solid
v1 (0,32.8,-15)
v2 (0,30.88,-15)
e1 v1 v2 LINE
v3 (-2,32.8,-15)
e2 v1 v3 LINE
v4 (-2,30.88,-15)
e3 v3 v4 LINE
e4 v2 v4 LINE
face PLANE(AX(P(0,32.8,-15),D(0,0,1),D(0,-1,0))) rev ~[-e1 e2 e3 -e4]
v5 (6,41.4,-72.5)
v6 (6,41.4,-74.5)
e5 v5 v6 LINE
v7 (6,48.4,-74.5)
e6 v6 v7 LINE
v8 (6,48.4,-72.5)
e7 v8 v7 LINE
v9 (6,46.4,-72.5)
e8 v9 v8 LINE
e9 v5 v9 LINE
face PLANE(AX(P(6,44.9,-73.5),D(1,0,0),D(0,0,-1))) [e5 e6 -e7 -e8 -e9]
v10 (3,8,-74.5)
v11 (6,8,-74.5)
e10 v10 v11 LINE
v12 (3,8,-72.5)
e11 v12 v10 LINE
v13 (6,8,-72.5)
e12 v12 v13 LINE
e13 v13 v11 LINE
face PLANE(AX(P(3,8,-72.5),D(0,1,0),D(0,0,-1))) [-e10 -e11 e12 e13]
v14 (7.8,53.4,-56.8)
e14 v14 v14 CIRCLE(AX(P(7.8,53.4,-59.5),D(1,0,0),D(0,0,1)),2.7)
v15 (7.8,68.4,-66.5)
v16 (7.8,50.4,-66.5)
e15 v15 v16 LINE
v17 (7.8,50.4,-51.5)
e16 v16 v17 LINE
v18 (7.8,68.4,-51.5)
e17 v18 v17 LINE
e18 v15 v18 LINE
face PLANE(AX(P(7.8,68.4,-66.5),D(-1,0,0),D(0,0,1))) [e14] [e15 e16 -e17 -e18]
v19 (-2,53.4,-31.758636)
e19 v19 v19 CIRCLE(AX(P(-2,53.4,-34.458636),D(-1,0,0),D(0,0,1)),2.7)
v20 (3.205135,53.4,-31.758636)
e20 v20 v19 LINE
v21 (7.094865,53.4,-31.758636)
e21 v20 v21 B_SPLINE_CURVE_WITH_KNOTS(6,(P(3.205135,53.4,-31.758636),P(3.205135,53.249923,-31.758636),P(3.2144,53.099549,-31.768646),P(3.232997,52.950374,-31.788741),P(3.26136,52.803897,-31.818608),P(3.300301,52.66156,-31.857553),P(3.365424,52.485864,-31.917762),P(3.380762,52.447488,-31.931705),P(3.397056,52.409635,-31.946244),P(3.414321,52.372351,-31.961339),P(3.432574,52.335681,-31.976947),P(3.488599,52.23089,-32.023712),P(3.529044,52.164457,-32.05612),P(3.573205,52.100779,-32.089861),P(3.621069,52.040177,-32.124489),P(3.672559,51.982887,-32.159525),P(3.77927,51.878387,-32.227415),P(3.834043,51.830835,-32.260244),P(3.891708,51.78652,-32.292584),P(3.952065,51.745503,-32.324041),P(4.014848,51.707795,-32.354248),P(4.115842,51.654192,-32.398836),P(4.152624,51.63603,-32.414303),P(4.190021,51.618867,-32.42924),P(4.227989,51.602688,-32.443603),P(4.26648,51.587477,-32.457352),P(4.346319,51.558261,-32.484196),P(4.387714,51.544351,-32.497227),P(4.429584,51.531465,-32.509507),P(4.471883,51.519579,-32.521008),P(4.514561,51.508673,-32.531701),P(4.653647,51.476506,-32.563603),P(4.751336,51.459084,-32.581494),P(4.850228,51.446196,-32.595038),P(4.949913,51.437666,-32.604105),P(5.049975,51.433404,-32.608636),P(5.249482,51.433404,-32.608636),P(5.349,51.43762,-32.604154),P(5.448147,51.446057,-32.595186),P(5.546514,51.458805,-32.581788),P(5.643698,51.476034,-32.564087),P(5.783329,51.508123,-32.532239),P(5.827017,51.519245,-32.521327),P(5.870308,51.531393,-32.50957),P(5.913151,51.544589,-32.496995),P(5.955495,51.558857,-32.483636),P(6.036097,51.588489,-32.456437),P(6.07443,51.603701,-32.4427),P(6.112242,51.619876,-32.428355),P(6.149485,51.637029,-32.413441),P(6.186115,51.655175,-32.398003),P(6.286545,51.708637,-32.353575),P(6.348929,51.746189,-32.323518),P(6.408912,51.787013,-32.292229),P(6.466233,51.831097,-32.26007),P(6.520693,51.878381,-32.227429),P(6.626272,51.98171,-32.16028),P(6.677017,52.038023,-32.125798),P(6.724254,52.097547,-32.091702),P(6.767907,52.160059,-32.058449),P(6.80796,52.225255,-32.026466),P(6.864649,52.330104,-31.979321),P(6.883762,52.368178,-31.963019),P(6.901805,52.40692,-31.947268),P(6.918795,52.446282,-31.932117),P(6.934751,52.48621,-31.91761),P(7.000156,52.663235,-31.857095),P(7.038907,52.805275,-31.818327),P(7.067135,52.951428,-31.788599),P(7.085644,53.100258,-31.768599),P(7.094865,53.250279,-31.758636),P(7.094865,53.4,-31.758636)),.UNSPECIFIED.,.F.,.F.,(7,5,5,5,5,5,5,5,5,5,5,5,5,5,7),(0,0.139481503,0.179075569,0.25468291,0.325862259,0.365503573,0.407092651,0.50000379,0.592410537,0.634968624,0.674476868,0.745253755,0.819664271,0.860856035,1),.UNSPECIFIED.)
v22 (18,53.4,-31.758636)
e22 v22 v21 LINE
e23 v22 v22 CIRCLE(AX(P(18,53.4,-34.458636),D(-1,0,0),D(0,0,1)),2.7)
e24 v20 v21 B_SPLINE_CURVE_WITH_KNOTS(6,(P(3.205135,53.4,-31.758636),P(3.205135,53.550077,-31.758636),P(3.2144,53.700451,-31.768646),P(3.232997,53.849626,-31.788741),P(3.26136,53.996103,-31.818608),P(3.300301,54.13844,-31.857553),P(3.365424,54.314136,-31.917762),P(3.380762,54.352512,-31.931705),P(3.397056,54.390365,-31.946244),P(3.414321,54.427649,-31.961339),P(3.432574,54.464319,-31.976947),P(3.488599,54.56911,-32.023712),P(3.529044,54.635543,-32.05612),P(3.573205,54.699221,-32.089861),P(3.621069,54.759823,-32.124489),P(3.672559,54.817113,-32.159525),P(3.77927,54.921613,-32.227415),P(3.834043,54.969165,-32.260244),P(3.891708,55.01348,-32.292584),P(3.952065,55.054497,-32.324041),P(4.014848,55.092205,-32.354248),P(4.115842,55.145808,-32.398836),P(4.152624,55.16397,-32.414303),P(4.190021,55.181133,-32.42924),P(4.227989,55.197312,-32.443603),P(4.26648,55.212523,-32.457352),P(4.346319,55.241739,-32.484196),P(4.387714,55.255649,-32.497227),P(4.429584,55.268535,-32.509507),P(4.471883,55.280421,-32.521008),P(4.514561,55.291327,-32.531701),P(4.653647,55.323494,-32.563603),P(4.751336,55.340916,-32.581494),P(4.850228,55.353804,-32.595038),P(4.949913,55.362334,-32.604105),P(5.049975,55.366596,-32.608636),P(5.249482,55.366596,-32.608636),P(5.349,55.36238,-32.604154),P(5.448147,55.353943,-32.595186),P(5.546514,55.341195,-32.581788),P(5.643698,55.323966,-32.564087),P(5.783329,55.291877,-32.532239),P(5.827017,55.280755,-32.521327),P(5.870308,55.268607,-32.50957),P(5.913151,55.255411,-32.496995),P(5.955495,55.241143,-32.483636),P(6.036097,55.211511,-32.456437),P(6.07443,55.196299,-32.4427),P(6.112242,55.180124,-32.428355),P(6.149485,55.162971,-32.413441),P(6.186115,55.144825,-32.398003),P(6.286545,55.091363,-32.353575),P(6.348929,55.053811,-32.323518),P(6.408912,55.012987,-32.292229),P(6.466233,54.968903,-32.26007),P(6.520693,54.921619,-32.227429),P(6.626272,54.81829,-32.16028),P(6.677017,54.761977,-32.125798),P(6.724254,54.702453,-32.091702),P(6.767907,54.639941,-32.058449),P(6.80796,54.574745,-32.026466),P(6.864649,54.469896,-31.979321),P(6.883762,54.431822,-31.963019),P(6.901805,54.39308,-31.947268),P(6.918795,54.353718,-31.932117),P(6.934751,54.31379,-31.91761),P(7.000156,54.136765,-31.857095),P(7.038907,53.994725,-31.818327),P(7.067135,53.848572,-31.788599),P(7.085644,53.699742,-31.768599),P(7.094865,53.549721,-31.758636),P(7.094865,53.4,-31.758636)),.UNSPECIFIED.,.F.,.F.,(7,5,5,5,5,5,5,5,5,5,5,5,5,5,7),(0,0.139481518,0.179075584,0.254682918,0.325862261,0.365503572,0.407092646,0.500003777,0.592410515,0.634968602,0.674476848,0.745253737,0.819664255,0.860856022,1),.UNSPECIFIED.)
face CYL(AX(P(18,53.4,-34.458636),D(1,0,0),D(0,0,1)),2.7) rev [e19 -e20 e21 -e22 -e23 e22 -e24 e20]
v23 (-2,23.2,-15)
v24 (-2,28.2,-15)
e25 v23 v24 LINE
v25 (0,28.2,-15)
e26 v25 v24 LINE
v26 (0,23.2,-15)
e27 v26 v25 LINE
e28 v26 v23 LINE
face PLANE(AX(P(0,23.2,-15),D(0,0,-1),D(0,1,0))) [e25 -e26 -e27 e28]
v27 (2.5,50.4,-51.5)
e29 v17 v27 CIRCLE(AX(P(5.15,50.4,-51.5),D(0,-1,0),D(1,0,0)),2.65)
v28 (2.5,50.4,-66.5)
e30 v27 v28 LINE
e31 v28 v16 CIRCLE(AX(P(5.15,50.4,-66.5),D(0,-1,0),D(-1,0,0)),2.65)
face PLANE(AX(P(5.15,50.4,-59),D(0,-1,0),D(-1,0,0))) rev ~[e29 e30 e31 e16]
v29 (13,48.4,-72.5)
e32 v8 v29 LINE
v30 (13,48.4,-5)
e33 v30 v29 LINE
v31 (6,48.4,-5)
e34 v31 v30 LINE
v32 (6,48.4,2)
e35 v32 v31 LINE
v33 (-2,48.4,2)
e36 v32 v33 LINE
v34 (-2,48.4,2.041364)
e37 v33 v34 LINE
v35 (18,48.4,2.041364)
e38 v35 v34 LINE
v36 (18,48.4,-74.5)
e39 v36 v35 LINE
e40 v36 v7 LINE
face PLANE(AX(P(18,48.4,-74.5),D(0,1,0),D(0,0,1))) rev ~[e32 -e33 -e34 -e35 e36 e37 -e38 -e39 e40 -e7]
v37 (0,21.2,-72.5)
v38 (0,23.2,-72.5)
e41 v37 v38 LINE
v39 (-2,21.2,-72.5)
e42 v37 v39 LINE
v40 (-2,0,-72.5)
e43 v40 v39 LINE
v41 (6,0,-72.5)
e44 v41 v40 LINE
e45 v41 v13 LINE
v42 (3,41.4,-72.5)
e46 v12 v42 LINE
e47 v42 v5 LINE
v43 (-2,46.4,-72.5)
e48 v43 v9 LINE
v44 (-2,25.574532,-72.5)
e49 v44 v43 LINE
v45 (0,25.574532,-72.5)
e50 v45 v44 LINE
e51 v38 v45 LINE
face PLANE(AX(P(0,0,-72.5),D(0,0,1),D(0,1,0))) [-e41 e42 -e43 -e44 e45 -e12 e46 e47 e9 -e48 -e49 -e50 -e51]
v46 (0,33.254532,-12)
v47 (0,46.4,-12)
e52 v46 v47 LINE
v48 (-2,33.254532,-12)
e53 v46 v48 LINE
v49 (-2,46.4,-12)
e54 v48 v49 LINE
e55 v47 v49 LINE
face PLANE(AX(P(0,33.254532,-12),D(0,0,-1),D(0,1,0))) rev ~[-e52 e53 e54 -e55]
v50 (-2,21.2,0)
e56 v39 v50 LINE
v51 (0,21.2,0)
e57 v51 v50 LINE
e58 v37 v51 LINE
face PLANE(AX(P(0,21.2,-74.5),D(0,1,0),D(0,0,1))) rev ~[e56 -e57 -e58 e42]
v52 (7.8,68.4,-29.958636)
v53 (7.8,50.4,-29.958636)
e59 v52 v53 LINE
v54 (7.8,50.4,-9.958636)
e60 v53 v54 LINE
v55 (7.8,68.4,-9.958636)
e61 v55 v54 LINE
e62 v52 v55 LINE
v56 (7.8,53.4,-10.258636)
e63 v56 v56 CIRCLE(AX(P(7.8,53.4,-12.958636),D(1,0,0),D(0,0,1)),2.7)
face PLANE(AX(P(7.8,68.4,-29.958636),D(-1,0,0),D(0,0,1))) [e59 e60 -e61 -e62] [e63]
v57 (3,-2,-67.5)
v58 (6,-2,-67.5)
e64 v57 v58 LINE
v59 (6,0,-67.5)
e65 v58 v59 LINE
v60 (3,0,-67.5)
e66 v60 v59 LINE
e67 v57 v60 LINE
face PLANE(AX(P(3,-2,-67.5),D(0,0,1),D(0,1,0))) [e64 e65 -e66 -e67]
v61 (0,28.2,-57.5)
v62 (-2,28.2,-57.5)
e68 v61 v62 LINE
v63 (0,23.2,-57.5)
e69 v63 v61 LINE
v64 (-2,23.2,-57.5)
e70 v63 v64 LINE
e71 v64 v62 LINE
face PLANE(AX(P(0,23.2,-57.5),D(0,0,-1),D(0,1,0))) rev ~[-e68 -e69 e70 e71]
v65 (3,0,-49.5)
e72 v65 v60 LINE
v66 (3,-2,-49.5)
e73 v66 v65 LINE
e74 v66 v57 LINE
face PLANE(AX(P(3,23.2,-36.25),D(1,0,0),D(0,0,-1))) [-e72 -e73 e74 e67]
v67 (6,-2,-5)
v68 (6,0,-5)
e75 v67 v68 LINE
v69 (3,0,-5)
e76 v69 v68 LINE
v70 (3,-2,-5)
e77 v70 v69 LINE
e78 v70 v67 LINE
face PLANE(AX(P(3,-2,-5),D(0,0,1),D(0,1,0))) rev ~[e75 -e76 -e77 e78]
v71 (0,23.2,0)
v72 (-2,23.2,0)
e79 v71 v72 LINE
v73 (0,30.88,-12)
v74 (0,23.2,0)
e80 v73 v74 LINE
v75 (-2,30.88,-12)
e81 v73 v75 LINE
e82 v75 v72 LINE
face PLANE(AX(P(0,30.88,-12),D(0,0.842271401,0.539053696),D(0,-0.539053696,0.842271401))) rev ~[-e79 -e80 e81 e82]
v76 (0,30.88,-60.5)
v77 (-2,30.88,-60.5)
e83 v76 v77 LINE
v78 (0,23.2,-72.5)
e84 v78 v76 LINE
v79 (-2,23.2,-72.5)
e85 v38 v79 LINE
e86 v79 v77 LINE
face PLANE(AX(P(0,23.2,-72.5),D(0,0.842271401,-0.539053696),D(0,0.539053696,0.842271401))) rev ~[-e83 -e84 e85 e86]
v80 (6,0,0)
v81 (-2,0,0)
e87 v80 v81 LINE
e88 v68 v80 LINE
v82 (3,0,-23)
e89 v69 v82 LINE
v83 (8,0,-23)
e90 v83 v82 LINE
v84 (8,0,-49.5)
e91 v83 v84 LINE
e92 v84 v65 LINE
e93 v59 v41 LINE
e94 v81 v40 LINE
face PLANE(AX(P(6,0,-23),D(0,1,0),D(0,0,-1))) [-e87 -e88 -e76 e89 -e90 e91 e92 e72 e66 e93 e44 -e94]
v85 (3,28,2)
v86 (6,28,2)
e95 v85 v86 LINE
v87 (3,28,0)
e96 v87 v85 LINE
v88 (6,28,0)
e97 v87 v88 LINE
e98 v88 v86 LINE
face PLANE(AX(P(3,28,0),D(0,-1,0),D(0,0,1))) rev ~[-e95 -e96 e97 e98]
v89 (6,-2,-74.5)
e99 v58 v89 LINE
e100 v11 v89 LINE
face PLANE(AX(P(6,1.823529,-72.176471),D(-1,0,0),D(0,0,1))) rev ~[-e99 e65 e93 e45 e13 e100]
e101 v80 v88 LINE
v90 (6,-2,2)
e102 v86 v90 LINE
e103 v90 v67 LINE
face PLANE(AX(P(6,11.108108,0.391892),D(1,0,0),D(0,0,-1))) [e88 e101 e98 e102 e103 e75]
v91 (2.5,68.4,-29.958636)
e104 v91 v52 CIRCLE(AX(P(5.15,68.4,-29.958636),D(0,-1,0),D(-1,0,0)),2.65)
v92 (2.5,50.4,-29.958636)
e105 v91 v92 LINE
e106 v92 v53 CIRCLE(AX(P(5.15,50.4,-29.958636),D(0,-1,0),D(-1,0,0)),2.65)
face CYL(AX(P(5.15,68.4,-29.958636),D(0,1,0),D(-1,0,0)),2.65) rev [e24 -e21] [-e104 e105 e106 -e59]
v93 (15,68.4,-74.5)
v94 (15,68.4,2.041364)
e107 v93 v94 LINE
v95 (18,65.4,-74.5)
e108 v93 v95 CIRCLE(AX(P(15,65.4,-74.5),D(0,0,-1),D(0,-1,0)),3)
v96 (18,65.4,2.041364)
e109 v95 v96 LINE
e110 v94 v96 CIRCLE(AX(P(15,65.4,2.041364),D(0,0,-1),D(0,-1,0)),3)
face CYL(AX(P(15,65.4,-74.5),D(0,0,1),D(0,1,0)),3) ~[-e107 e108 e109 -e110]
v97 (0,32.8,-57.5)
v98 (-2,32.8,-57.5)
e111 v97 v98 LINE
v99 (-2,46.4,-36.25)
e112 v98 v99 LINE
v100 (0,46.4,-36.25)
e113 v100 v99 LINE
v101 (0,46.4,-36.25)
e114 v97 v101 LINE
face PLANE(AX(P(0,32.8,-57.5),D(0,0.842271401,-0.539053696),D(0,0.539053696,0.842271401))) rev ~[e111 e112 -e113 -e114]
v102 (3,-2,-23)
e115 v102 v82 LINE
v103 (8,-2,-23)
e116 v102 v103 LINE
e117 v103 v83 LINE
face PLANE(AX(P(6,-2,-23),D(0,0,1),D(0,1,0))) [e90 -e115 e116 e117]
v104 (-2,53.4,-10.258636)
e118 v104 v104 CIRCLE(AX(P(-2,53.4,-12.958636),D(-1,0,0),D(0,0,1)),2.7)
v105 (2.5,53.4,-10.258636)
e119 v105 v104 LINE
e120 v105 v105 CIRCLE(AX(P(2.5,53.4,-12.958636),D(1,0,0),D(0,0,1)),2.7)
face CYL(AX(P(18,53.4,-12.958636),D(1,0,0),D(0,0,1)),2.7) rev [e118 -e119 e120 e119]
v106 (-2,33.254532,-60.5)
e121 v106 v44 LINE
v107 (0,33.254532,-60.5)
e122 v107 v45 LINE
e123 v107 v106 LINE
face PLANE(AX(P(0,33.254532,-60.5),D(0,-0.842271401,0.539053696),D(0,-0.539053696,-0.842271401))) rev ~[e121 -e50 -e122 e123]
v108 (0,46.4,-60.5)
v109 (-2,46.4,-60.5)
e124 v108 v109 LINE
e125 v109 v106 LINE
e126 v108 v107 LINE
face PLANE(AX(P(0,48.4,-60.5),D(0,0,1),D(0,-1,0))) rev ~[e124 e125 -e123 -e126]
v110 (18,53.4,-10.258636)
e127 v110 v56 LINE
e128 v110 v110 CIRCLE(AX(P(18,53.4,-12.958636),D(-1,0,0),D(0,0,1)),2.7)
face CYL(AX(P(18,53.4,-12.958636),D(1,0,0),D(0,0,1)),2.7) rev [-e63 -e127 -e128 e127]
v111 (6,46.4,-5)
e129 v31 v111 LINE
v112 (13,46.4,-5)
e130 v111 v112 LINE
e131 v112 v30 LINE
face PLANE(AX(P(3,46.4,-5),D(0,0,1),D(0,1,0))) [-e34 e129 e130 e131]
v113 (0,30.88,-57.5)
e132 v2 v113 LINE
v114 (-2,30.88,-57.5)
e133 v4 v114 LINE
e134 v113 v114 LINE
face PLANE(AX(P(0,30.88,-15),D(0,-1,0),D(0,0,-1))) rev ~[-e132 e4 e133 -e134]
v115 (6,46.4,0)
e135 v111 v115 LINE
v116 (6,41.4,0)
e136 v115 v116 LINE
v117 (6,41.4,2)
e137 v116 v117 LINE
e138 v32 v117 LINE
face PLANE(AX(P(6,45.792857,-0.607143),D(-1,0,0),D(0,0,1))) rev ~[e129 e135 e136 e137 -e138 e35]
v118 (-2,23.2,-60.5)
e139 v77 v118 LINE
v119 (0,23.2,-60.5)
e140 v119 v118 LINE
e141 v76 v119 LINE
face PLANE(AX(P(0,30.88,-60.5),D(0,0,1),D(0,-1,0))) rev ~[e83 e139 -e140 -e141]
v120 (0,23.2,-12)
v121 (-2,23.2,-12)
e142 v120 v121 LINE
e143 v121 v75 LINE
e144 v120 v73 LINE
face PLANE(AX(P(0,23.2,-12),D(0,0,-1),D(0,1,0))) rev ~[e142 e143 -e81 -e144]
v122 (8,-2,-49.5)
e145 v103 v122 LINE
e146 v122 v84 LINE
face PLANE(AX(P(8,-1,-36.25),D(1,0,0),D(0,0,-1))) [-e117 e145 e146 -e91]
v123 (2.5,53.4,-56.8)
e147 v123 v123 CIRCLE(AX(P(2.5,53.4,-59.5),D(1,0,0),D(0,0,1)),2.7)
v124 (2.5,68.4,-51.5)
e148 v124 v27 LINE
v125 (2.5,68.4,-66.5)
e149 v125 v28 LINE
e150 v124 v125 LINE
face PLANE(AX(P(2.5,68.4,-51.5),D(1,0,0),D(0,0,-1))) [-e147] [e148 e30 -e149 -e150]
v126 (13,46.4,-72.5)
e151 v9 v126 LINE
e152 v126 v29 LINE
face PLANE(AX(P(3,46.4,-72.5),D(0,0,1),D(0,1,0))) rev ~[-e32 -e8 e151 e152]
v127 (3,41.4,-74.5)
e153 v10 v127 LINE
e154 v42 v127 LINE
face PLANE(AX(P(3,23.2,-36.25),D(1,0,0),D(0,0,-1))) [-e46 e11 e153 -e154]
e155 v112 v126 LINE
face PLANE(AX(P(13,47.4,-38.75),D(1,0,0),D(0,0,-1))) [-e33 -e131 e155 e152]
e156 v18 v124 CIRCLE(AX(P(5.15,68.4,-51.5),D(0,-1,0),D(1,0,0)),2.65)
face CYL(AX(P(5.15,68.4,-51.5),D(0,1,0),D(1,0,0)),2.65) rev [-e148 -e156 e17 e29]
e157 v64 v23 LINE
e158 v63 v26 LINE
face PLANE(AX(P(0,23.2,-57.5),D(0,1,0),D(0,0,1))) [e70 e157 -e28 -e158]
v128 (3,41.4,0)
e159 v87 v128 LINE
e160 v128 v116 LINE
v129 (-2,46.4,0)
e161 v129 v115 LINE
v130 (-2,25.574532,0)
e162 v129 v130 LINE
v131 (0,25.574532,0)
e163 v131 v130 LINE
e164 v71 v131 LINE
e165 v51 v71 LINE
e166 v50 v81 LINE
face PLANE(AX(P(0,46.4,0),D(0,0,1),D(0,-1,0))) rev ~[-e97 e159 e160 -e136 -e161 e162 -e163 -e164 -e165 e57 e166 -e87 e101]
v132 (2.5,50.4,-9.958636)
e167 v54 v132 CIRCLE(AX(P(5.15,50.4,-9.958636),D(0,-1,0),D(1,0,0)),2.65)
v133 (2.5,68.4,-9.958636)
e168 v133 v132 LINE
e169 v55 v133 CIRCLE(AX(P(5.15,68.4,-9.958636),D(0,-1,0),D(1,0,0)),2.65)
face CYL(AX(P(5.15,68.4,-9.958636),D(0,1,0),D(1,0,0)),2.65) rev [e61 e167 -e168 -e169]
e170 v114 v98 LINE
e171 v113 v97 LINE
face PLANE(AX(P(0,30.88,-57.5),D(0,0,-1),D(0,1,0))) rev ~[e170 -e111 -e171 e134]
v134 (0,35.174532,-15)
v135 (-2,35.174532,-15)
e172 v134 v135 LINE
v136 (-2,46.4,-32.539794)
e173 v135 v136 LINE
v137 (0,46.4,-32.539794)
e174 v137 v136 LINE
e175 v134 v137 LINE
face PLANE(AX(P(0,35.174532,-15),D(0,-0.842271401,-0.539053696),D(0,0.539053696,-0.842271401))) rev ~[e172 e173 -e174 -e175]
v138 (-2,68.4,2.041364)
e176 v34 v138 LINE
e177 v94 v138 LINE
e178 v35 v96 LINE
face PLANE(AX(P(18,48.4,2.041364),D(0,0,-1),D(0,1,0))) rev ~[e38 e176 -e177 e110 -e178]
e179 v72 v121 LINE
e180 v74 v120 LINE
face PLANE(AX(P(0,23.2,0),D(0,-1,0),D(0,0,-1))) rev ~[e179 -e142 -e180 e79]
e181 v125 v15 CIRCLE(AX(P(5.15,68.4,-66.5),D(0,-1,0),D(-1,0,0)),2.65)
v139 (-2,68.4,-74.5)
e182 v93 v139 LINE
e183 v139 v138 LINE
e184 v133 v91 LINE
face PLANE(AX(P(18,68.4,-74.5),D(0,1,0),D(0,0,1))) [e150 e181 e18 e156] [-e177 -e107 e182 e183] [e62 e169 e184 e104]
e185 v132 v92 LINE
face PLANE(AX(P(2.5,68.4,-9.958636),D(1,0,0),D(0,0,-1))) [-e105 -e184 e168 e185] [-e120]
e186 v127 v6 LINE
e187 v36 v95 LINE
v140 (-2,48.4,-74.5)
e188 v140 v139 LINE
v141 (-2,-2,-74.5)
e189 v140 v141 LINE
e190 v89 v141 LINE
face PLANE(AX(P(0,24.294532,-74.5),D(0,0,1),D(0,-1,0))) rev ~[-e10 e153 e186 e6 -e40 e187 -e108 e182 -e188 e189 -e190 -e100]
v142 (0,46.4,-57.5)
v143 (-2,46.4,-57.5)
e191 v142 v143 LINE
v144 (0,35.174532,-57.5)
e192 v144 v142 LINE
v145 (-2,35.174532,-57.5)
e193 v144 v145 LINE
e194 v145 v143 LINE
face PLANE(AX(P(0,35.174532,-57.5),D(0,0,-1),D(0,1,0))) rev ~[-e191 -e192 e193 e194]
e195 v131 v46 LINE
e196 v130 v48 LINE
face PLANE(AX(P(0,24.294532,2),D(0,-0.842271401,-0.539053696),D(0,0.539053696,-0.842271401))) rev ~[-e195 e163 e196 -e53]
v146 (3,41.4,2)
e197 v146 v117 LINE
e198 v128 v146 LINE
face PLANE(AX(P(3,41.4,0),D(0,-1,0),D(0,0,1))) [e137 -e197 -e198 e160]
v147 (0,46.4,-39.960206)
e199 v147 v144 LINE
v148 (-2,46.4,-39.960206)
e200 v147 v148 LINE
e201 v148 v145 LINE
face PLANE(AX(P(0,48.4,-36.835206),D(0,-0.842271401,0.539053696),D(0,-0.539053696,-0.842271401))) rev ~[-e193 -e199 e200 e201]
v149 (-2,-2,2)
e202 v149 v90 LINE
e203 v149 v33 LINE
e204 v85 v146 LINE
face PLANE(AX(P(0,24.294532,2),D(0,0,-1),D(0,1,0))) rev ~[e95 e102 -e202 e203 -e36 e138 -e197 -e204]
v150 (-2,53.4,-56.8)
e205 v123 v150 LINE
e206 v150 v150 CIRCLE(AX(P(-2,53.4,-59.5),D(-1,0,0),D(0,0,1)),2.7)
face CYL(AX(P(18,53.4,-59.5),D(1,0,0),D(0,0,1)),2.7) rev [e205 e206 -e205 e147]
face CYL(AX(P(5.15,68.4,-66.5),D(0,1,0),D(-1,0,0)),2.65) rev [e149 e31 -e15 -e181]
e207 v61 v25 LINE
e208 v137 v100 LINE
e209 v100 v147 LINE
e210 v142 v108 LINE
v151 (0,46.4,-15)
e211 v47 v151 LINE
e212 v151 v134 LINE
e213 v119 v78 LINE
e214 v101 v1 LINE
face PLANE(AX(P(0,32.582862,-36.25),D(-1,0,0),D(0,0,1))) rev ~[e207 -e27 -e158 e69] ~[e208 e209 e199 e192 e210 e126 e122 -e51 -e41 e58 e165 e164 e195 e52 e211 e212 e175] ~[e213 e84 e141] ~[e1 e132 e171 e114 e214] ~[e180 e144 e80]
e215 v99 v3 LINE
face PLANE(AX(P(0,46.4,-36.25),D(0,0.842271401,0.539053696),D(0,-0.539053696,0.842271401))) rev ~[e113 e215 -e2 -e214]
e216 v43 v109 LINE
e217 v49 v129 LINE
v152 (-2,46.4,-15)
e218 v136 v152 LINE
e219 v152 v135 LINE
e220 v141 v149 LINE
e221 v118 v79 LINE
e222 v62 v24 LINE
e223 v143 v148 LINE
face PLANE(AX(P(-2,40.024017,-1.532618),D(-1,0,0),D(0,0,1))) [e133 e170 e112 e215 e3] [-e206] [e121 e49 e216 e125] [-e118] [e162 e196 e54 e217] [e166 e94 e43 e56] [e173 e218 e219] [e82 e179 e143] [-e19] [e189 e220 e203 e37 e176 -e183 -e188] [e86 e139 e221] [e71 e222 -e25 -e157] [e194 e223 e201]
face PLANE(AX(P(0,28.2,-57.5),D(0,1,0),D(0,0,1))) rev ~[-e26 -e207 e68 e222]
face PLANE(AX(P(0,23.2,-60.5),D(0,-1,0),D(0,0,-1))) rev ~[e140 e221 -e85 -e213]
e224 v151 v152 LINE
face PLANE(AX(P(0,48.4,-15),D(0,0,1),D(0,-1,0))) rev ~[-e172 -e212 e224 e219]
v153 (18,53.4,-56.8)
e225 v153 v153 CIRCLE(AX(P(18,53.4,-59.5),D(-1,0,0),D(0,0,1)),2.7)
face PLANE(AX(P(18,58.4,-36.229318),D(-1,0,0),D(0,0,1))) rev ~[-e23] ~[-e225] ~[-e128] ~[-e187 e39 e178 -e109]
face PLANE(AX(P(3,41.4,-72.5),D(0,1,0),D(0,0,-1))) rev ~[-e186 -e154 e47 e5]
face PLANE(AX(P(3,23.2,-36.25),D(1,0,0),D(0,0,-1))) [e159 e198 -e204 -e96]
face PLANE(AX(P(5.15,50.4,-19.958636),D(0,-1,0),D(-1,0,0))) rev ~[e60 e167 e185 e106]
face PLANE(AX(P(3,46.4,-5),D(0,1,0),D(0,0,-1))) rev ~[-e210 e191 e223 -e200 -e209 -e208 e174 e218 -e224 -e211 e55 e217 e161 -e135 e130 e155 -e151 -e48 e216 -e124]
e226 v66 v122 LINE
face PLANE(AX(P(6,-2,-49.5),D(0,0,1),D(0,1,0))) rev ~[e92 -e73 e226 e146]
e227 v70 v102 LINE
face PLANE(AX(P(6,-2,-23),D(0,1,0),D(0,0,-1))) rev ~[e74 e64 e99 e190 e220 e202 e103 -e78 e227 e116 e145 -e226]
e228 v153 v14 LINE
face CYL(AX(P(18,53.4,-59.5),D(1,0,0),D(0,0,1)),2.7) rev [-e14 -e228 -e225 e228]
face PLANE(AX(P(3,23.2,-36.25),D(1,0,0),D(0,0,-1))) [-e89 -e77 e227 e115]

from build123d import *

# Parameters (mm, degrees)
SKETCH_1_W           = 76.5
SKETCH_1_H           = 50.4
SKETCH_1_W_2         = 72.5
SKETCH_1_H_2         = 46.4
EXTRUDE_1_DEPTH      = 3
SKETCH_2_W           = 26.5
SKETCH_2_H           = 2
SKETCH_2_W_2         = 2
SKETCH_2_H_2         = 7
EXTRUDE_2_DEPTH      = 3
EXTRUDE_4_DEPTH      = 2
EXTRUDE_4_DEPTH_BACK = 18
SKETCH_3_W           = 76.541364071
SKETCH_3_H           = 20
SKETCH_3_R           = 2.7
FILLET_1_R           = 3
CUT_EXTRUDE_1_DEPTH  = 18
SKETCH_5_W           = 42.5
SKETCH_5_H           = 5
EXTRUDE_5_DEPTH      = 2
EXTRUDE_6_DEPTH      = 2
SKETCH_7_W           = 26.5
SKETCH_7_H           = 2
EXTRUDE_7_DEPTH      = 2
SKETCH_8_W           = 67.5
SKETCH_8_H           = 2
EXTRUDE_8_DEPTH      = 10


with BuildPart() as part:
    # 草图1 → 凸台-拉伸1 (new body)
    with BuildSketch(Plane(origin=(0, 0, 0), x_dir=(0, 0, -1), z_dir=(1, 0, 0))):
        with Locations((36.25, 23.2)):
            Rectangle(SKETCH_1_W, SKETCH_1_H)
        with Locations((36.25, 23.2)):
            Rectangle(SKETCH_1_W_2, SKETCH_1_H_2, mode=Mode.SUBTRACT)
    extrude(amount=EXTRUDE_1_DEPTH)

    # 草图2 → 凸台-拉伸2 (add)
    with BuildSketch(Plane(origin=(3, 0, 0), x_dir=(0, 0, -1), z_dir=(1, 0, 0))):
        with Locations((36.25, -1)):
            Rectangle(SKETCH_2_W, SKETCH_2_H)
        Polygon((-2, -2), (0, -2), (5, -2), (5, 0), (0, 0), (0, 28), (-2, 28), align=None)
        Polygon((74.5, -2), (72.5, -2), (67.5, -2), (67.5, 0), (72.5, 0), (72.5, 8), (74.5, 8), align=None)
        Polygon((-2, 48.4), (5, 48.4), (5, 46.4), (0, 46.4), (0, 41.4), (-2, 41.4), (-2, 46.4), align=None)
        with Locations((73.5, 44.9)):
            Rectangle(SKETCH_2_W_2, SKETCH_2_H_2)
    extrude(amount=EXTRUDE_2_DEPTH)

    # 草图3 → 凸台-拉伸4 (add, two sides: drawn at the far end of the back side and taken through both)
    with BuildSketch(Plane.ZY.offset(-EXTRUDE_4_DEPTH_BACK)):
        with Locations((-36.229317964, 58.4)):
            Rectangle(SKETCH_3_W, SKETCH_3_H)
        with Locations((-59.5, 53.4)):
            Circle(SKETCH_3_R, mode=Mode.SUBTRACT)
        with Locations((-12.958635929, 53.4)):
            Circle(SKETCH_3_R, mode=Mode.SUBTRACT)
        with Locations((-34.458635929, 53.4)):
            Circle(SKETCH_3_R, mode=Mode.SUBTRACT)
    extrude(amount=EXTRUDE_4_DEPTH + EXTRUDE_4_DEPTH_BACK)

    # 圆角1
    fillet_1_edges = [part.edges().sort_by_distance(p)[0] for p in [
        (18, 68.4, -36.229317964),
    ]]
    fillet(fillet_1_edges, radius=FILLET_1_R)

    # 草图4 → 切除-拉伸1 (cut)
    with BuildSketch(Plane(origin=(0, 68.4, 0), x_dir=(1, 0, 0), z_dir=(0, 1, 0))):
        with BuildLine():
            Line((7.8, 66.5), (7.8, 51.5))
            ThreePointArc((7.8, 51.5), (5.15, 48.85), (2.5, 51.5))
            Line((2.5, 51.5), (2.5, 66.5))
            ThreePointArc((2.5, 66.5), (5.15, 69.15), (7.8, 66.5))
        make_face()
        with BuildLine():
            Line((7.8, 29.958635929), (7.8, 9.958635929))
            ThreePointArc((7.8, 9.958635929), (5.15, 7.308635929), (2.5, 9.958635929))
            Line((2.5, 9.958635929), (2.5, 29.958635929))
            ThreePointArc((2.5, 29.958635929), (5.15, 32.608635929), (7.8, 29.958635929))
        make_face()
    extrude(amount=-CUT_EXTRUDE_1_DEPTH, mode=Mode.SUBTRACT)

    # 草图5 → 凸台-拉伸5 (add)
    with BuildSketch(Plane.ZY):
        Polygon((-35.66479448, 48.4), (-36.83520552, 48.4), (-57.5, 35.174531533), (-57.5, 48.4), (-60.5, 48.4), (-60.5, 33.254531533), (-74.5, 24.294531533), (-74.5, 21.2), (2, 21.2), (2, 24.294531533), (-12, 33.254531533), (-12, 48.4), (-15, 48.4), (-15, 35.174531533), align=None)
        Polygon((-60.5, 23.2), (-72.5, 23.2), (-60.5, 30.88), align=None, mode=Mode.SUBTRACT)
        with Locations((-36.25, 25.7)):
            Rectangle(SKETCH_5_W, SKETCH_5_H, mode=Mode.SUBTRACT)
        Polygon((-12, 30.88), (0, 23.2), (-12, 23.2), align=None, mode=Mode.SUBTRACT)
        Polygon((-57.5, 32.8), (-36.25, 46.4), (-15, 32.8), (-15, 30.88), (-57.5, 30.88), align=None, mode=Mode.SUBTRACT)
    extrude(amount=EXTRUDE_5_DEPTH)

    # 草图6 → 凸台-拉伸6 (add)
    with BuildSketch(Plane.ZY):
        Polygon((0, 46.4), (0, 25.574531533), (2, 24.294531533), (2, 48.4), (-12, 48.4), (-12, 46.4), align=None)
        Polygon((-74.5, 48.4), (-74.5, 24.294531533), (-72.5, 25.574531533), (-72.5, 46.4), (-60.5, 46.4), (-60.5, 48.4), align=None)
        Polygon((2, -2), (2, 21.2), (0, 21.2), (0, 0), (-72.5, 0), (-72.5, 21.2), (-74.5, 21.2), (-74.5, -2), align=None)
        Polygon((-15, 46.4), (-15, 48.4), (-35.66479448, 48.4), (-32.53979448, 46.4), align=None)
        Polygon((-57.5, 46.4), (-39.96020552, 46.4), (-36.83520552, 48.4), (-57.5, 48.4), align=None)
    extrude(amount=EXTRUDE_6_DEPTH)

    # 草图7 → 凸台-拉伸7 (add)
    with BuildSketch(Plane(origin=(6, 0, 0), x_dir=(0, 0, -1), z_dir=(1, 0, 0))):
        with Locations((36.25, -1)):
            Rectangle(SKETCH_7_W, SKETCH_7_H)
    extrude(amount=EXTRUDE_7_DEPTH)

    # 草图8 → 凸台-拉伸8 (add)
    with BuildSketch(Plane(origin=(3, 0, 0), x_dir=(0, 0, -1), z_dir=(1, 0, 0))):
        with Locations((38.75, 47.4)):
            Rectangle(SKETCH_8_W, SKETCH_8_H)
    extrude(amount=EXTRUDE_8_DEPTH)


solid = part.part
